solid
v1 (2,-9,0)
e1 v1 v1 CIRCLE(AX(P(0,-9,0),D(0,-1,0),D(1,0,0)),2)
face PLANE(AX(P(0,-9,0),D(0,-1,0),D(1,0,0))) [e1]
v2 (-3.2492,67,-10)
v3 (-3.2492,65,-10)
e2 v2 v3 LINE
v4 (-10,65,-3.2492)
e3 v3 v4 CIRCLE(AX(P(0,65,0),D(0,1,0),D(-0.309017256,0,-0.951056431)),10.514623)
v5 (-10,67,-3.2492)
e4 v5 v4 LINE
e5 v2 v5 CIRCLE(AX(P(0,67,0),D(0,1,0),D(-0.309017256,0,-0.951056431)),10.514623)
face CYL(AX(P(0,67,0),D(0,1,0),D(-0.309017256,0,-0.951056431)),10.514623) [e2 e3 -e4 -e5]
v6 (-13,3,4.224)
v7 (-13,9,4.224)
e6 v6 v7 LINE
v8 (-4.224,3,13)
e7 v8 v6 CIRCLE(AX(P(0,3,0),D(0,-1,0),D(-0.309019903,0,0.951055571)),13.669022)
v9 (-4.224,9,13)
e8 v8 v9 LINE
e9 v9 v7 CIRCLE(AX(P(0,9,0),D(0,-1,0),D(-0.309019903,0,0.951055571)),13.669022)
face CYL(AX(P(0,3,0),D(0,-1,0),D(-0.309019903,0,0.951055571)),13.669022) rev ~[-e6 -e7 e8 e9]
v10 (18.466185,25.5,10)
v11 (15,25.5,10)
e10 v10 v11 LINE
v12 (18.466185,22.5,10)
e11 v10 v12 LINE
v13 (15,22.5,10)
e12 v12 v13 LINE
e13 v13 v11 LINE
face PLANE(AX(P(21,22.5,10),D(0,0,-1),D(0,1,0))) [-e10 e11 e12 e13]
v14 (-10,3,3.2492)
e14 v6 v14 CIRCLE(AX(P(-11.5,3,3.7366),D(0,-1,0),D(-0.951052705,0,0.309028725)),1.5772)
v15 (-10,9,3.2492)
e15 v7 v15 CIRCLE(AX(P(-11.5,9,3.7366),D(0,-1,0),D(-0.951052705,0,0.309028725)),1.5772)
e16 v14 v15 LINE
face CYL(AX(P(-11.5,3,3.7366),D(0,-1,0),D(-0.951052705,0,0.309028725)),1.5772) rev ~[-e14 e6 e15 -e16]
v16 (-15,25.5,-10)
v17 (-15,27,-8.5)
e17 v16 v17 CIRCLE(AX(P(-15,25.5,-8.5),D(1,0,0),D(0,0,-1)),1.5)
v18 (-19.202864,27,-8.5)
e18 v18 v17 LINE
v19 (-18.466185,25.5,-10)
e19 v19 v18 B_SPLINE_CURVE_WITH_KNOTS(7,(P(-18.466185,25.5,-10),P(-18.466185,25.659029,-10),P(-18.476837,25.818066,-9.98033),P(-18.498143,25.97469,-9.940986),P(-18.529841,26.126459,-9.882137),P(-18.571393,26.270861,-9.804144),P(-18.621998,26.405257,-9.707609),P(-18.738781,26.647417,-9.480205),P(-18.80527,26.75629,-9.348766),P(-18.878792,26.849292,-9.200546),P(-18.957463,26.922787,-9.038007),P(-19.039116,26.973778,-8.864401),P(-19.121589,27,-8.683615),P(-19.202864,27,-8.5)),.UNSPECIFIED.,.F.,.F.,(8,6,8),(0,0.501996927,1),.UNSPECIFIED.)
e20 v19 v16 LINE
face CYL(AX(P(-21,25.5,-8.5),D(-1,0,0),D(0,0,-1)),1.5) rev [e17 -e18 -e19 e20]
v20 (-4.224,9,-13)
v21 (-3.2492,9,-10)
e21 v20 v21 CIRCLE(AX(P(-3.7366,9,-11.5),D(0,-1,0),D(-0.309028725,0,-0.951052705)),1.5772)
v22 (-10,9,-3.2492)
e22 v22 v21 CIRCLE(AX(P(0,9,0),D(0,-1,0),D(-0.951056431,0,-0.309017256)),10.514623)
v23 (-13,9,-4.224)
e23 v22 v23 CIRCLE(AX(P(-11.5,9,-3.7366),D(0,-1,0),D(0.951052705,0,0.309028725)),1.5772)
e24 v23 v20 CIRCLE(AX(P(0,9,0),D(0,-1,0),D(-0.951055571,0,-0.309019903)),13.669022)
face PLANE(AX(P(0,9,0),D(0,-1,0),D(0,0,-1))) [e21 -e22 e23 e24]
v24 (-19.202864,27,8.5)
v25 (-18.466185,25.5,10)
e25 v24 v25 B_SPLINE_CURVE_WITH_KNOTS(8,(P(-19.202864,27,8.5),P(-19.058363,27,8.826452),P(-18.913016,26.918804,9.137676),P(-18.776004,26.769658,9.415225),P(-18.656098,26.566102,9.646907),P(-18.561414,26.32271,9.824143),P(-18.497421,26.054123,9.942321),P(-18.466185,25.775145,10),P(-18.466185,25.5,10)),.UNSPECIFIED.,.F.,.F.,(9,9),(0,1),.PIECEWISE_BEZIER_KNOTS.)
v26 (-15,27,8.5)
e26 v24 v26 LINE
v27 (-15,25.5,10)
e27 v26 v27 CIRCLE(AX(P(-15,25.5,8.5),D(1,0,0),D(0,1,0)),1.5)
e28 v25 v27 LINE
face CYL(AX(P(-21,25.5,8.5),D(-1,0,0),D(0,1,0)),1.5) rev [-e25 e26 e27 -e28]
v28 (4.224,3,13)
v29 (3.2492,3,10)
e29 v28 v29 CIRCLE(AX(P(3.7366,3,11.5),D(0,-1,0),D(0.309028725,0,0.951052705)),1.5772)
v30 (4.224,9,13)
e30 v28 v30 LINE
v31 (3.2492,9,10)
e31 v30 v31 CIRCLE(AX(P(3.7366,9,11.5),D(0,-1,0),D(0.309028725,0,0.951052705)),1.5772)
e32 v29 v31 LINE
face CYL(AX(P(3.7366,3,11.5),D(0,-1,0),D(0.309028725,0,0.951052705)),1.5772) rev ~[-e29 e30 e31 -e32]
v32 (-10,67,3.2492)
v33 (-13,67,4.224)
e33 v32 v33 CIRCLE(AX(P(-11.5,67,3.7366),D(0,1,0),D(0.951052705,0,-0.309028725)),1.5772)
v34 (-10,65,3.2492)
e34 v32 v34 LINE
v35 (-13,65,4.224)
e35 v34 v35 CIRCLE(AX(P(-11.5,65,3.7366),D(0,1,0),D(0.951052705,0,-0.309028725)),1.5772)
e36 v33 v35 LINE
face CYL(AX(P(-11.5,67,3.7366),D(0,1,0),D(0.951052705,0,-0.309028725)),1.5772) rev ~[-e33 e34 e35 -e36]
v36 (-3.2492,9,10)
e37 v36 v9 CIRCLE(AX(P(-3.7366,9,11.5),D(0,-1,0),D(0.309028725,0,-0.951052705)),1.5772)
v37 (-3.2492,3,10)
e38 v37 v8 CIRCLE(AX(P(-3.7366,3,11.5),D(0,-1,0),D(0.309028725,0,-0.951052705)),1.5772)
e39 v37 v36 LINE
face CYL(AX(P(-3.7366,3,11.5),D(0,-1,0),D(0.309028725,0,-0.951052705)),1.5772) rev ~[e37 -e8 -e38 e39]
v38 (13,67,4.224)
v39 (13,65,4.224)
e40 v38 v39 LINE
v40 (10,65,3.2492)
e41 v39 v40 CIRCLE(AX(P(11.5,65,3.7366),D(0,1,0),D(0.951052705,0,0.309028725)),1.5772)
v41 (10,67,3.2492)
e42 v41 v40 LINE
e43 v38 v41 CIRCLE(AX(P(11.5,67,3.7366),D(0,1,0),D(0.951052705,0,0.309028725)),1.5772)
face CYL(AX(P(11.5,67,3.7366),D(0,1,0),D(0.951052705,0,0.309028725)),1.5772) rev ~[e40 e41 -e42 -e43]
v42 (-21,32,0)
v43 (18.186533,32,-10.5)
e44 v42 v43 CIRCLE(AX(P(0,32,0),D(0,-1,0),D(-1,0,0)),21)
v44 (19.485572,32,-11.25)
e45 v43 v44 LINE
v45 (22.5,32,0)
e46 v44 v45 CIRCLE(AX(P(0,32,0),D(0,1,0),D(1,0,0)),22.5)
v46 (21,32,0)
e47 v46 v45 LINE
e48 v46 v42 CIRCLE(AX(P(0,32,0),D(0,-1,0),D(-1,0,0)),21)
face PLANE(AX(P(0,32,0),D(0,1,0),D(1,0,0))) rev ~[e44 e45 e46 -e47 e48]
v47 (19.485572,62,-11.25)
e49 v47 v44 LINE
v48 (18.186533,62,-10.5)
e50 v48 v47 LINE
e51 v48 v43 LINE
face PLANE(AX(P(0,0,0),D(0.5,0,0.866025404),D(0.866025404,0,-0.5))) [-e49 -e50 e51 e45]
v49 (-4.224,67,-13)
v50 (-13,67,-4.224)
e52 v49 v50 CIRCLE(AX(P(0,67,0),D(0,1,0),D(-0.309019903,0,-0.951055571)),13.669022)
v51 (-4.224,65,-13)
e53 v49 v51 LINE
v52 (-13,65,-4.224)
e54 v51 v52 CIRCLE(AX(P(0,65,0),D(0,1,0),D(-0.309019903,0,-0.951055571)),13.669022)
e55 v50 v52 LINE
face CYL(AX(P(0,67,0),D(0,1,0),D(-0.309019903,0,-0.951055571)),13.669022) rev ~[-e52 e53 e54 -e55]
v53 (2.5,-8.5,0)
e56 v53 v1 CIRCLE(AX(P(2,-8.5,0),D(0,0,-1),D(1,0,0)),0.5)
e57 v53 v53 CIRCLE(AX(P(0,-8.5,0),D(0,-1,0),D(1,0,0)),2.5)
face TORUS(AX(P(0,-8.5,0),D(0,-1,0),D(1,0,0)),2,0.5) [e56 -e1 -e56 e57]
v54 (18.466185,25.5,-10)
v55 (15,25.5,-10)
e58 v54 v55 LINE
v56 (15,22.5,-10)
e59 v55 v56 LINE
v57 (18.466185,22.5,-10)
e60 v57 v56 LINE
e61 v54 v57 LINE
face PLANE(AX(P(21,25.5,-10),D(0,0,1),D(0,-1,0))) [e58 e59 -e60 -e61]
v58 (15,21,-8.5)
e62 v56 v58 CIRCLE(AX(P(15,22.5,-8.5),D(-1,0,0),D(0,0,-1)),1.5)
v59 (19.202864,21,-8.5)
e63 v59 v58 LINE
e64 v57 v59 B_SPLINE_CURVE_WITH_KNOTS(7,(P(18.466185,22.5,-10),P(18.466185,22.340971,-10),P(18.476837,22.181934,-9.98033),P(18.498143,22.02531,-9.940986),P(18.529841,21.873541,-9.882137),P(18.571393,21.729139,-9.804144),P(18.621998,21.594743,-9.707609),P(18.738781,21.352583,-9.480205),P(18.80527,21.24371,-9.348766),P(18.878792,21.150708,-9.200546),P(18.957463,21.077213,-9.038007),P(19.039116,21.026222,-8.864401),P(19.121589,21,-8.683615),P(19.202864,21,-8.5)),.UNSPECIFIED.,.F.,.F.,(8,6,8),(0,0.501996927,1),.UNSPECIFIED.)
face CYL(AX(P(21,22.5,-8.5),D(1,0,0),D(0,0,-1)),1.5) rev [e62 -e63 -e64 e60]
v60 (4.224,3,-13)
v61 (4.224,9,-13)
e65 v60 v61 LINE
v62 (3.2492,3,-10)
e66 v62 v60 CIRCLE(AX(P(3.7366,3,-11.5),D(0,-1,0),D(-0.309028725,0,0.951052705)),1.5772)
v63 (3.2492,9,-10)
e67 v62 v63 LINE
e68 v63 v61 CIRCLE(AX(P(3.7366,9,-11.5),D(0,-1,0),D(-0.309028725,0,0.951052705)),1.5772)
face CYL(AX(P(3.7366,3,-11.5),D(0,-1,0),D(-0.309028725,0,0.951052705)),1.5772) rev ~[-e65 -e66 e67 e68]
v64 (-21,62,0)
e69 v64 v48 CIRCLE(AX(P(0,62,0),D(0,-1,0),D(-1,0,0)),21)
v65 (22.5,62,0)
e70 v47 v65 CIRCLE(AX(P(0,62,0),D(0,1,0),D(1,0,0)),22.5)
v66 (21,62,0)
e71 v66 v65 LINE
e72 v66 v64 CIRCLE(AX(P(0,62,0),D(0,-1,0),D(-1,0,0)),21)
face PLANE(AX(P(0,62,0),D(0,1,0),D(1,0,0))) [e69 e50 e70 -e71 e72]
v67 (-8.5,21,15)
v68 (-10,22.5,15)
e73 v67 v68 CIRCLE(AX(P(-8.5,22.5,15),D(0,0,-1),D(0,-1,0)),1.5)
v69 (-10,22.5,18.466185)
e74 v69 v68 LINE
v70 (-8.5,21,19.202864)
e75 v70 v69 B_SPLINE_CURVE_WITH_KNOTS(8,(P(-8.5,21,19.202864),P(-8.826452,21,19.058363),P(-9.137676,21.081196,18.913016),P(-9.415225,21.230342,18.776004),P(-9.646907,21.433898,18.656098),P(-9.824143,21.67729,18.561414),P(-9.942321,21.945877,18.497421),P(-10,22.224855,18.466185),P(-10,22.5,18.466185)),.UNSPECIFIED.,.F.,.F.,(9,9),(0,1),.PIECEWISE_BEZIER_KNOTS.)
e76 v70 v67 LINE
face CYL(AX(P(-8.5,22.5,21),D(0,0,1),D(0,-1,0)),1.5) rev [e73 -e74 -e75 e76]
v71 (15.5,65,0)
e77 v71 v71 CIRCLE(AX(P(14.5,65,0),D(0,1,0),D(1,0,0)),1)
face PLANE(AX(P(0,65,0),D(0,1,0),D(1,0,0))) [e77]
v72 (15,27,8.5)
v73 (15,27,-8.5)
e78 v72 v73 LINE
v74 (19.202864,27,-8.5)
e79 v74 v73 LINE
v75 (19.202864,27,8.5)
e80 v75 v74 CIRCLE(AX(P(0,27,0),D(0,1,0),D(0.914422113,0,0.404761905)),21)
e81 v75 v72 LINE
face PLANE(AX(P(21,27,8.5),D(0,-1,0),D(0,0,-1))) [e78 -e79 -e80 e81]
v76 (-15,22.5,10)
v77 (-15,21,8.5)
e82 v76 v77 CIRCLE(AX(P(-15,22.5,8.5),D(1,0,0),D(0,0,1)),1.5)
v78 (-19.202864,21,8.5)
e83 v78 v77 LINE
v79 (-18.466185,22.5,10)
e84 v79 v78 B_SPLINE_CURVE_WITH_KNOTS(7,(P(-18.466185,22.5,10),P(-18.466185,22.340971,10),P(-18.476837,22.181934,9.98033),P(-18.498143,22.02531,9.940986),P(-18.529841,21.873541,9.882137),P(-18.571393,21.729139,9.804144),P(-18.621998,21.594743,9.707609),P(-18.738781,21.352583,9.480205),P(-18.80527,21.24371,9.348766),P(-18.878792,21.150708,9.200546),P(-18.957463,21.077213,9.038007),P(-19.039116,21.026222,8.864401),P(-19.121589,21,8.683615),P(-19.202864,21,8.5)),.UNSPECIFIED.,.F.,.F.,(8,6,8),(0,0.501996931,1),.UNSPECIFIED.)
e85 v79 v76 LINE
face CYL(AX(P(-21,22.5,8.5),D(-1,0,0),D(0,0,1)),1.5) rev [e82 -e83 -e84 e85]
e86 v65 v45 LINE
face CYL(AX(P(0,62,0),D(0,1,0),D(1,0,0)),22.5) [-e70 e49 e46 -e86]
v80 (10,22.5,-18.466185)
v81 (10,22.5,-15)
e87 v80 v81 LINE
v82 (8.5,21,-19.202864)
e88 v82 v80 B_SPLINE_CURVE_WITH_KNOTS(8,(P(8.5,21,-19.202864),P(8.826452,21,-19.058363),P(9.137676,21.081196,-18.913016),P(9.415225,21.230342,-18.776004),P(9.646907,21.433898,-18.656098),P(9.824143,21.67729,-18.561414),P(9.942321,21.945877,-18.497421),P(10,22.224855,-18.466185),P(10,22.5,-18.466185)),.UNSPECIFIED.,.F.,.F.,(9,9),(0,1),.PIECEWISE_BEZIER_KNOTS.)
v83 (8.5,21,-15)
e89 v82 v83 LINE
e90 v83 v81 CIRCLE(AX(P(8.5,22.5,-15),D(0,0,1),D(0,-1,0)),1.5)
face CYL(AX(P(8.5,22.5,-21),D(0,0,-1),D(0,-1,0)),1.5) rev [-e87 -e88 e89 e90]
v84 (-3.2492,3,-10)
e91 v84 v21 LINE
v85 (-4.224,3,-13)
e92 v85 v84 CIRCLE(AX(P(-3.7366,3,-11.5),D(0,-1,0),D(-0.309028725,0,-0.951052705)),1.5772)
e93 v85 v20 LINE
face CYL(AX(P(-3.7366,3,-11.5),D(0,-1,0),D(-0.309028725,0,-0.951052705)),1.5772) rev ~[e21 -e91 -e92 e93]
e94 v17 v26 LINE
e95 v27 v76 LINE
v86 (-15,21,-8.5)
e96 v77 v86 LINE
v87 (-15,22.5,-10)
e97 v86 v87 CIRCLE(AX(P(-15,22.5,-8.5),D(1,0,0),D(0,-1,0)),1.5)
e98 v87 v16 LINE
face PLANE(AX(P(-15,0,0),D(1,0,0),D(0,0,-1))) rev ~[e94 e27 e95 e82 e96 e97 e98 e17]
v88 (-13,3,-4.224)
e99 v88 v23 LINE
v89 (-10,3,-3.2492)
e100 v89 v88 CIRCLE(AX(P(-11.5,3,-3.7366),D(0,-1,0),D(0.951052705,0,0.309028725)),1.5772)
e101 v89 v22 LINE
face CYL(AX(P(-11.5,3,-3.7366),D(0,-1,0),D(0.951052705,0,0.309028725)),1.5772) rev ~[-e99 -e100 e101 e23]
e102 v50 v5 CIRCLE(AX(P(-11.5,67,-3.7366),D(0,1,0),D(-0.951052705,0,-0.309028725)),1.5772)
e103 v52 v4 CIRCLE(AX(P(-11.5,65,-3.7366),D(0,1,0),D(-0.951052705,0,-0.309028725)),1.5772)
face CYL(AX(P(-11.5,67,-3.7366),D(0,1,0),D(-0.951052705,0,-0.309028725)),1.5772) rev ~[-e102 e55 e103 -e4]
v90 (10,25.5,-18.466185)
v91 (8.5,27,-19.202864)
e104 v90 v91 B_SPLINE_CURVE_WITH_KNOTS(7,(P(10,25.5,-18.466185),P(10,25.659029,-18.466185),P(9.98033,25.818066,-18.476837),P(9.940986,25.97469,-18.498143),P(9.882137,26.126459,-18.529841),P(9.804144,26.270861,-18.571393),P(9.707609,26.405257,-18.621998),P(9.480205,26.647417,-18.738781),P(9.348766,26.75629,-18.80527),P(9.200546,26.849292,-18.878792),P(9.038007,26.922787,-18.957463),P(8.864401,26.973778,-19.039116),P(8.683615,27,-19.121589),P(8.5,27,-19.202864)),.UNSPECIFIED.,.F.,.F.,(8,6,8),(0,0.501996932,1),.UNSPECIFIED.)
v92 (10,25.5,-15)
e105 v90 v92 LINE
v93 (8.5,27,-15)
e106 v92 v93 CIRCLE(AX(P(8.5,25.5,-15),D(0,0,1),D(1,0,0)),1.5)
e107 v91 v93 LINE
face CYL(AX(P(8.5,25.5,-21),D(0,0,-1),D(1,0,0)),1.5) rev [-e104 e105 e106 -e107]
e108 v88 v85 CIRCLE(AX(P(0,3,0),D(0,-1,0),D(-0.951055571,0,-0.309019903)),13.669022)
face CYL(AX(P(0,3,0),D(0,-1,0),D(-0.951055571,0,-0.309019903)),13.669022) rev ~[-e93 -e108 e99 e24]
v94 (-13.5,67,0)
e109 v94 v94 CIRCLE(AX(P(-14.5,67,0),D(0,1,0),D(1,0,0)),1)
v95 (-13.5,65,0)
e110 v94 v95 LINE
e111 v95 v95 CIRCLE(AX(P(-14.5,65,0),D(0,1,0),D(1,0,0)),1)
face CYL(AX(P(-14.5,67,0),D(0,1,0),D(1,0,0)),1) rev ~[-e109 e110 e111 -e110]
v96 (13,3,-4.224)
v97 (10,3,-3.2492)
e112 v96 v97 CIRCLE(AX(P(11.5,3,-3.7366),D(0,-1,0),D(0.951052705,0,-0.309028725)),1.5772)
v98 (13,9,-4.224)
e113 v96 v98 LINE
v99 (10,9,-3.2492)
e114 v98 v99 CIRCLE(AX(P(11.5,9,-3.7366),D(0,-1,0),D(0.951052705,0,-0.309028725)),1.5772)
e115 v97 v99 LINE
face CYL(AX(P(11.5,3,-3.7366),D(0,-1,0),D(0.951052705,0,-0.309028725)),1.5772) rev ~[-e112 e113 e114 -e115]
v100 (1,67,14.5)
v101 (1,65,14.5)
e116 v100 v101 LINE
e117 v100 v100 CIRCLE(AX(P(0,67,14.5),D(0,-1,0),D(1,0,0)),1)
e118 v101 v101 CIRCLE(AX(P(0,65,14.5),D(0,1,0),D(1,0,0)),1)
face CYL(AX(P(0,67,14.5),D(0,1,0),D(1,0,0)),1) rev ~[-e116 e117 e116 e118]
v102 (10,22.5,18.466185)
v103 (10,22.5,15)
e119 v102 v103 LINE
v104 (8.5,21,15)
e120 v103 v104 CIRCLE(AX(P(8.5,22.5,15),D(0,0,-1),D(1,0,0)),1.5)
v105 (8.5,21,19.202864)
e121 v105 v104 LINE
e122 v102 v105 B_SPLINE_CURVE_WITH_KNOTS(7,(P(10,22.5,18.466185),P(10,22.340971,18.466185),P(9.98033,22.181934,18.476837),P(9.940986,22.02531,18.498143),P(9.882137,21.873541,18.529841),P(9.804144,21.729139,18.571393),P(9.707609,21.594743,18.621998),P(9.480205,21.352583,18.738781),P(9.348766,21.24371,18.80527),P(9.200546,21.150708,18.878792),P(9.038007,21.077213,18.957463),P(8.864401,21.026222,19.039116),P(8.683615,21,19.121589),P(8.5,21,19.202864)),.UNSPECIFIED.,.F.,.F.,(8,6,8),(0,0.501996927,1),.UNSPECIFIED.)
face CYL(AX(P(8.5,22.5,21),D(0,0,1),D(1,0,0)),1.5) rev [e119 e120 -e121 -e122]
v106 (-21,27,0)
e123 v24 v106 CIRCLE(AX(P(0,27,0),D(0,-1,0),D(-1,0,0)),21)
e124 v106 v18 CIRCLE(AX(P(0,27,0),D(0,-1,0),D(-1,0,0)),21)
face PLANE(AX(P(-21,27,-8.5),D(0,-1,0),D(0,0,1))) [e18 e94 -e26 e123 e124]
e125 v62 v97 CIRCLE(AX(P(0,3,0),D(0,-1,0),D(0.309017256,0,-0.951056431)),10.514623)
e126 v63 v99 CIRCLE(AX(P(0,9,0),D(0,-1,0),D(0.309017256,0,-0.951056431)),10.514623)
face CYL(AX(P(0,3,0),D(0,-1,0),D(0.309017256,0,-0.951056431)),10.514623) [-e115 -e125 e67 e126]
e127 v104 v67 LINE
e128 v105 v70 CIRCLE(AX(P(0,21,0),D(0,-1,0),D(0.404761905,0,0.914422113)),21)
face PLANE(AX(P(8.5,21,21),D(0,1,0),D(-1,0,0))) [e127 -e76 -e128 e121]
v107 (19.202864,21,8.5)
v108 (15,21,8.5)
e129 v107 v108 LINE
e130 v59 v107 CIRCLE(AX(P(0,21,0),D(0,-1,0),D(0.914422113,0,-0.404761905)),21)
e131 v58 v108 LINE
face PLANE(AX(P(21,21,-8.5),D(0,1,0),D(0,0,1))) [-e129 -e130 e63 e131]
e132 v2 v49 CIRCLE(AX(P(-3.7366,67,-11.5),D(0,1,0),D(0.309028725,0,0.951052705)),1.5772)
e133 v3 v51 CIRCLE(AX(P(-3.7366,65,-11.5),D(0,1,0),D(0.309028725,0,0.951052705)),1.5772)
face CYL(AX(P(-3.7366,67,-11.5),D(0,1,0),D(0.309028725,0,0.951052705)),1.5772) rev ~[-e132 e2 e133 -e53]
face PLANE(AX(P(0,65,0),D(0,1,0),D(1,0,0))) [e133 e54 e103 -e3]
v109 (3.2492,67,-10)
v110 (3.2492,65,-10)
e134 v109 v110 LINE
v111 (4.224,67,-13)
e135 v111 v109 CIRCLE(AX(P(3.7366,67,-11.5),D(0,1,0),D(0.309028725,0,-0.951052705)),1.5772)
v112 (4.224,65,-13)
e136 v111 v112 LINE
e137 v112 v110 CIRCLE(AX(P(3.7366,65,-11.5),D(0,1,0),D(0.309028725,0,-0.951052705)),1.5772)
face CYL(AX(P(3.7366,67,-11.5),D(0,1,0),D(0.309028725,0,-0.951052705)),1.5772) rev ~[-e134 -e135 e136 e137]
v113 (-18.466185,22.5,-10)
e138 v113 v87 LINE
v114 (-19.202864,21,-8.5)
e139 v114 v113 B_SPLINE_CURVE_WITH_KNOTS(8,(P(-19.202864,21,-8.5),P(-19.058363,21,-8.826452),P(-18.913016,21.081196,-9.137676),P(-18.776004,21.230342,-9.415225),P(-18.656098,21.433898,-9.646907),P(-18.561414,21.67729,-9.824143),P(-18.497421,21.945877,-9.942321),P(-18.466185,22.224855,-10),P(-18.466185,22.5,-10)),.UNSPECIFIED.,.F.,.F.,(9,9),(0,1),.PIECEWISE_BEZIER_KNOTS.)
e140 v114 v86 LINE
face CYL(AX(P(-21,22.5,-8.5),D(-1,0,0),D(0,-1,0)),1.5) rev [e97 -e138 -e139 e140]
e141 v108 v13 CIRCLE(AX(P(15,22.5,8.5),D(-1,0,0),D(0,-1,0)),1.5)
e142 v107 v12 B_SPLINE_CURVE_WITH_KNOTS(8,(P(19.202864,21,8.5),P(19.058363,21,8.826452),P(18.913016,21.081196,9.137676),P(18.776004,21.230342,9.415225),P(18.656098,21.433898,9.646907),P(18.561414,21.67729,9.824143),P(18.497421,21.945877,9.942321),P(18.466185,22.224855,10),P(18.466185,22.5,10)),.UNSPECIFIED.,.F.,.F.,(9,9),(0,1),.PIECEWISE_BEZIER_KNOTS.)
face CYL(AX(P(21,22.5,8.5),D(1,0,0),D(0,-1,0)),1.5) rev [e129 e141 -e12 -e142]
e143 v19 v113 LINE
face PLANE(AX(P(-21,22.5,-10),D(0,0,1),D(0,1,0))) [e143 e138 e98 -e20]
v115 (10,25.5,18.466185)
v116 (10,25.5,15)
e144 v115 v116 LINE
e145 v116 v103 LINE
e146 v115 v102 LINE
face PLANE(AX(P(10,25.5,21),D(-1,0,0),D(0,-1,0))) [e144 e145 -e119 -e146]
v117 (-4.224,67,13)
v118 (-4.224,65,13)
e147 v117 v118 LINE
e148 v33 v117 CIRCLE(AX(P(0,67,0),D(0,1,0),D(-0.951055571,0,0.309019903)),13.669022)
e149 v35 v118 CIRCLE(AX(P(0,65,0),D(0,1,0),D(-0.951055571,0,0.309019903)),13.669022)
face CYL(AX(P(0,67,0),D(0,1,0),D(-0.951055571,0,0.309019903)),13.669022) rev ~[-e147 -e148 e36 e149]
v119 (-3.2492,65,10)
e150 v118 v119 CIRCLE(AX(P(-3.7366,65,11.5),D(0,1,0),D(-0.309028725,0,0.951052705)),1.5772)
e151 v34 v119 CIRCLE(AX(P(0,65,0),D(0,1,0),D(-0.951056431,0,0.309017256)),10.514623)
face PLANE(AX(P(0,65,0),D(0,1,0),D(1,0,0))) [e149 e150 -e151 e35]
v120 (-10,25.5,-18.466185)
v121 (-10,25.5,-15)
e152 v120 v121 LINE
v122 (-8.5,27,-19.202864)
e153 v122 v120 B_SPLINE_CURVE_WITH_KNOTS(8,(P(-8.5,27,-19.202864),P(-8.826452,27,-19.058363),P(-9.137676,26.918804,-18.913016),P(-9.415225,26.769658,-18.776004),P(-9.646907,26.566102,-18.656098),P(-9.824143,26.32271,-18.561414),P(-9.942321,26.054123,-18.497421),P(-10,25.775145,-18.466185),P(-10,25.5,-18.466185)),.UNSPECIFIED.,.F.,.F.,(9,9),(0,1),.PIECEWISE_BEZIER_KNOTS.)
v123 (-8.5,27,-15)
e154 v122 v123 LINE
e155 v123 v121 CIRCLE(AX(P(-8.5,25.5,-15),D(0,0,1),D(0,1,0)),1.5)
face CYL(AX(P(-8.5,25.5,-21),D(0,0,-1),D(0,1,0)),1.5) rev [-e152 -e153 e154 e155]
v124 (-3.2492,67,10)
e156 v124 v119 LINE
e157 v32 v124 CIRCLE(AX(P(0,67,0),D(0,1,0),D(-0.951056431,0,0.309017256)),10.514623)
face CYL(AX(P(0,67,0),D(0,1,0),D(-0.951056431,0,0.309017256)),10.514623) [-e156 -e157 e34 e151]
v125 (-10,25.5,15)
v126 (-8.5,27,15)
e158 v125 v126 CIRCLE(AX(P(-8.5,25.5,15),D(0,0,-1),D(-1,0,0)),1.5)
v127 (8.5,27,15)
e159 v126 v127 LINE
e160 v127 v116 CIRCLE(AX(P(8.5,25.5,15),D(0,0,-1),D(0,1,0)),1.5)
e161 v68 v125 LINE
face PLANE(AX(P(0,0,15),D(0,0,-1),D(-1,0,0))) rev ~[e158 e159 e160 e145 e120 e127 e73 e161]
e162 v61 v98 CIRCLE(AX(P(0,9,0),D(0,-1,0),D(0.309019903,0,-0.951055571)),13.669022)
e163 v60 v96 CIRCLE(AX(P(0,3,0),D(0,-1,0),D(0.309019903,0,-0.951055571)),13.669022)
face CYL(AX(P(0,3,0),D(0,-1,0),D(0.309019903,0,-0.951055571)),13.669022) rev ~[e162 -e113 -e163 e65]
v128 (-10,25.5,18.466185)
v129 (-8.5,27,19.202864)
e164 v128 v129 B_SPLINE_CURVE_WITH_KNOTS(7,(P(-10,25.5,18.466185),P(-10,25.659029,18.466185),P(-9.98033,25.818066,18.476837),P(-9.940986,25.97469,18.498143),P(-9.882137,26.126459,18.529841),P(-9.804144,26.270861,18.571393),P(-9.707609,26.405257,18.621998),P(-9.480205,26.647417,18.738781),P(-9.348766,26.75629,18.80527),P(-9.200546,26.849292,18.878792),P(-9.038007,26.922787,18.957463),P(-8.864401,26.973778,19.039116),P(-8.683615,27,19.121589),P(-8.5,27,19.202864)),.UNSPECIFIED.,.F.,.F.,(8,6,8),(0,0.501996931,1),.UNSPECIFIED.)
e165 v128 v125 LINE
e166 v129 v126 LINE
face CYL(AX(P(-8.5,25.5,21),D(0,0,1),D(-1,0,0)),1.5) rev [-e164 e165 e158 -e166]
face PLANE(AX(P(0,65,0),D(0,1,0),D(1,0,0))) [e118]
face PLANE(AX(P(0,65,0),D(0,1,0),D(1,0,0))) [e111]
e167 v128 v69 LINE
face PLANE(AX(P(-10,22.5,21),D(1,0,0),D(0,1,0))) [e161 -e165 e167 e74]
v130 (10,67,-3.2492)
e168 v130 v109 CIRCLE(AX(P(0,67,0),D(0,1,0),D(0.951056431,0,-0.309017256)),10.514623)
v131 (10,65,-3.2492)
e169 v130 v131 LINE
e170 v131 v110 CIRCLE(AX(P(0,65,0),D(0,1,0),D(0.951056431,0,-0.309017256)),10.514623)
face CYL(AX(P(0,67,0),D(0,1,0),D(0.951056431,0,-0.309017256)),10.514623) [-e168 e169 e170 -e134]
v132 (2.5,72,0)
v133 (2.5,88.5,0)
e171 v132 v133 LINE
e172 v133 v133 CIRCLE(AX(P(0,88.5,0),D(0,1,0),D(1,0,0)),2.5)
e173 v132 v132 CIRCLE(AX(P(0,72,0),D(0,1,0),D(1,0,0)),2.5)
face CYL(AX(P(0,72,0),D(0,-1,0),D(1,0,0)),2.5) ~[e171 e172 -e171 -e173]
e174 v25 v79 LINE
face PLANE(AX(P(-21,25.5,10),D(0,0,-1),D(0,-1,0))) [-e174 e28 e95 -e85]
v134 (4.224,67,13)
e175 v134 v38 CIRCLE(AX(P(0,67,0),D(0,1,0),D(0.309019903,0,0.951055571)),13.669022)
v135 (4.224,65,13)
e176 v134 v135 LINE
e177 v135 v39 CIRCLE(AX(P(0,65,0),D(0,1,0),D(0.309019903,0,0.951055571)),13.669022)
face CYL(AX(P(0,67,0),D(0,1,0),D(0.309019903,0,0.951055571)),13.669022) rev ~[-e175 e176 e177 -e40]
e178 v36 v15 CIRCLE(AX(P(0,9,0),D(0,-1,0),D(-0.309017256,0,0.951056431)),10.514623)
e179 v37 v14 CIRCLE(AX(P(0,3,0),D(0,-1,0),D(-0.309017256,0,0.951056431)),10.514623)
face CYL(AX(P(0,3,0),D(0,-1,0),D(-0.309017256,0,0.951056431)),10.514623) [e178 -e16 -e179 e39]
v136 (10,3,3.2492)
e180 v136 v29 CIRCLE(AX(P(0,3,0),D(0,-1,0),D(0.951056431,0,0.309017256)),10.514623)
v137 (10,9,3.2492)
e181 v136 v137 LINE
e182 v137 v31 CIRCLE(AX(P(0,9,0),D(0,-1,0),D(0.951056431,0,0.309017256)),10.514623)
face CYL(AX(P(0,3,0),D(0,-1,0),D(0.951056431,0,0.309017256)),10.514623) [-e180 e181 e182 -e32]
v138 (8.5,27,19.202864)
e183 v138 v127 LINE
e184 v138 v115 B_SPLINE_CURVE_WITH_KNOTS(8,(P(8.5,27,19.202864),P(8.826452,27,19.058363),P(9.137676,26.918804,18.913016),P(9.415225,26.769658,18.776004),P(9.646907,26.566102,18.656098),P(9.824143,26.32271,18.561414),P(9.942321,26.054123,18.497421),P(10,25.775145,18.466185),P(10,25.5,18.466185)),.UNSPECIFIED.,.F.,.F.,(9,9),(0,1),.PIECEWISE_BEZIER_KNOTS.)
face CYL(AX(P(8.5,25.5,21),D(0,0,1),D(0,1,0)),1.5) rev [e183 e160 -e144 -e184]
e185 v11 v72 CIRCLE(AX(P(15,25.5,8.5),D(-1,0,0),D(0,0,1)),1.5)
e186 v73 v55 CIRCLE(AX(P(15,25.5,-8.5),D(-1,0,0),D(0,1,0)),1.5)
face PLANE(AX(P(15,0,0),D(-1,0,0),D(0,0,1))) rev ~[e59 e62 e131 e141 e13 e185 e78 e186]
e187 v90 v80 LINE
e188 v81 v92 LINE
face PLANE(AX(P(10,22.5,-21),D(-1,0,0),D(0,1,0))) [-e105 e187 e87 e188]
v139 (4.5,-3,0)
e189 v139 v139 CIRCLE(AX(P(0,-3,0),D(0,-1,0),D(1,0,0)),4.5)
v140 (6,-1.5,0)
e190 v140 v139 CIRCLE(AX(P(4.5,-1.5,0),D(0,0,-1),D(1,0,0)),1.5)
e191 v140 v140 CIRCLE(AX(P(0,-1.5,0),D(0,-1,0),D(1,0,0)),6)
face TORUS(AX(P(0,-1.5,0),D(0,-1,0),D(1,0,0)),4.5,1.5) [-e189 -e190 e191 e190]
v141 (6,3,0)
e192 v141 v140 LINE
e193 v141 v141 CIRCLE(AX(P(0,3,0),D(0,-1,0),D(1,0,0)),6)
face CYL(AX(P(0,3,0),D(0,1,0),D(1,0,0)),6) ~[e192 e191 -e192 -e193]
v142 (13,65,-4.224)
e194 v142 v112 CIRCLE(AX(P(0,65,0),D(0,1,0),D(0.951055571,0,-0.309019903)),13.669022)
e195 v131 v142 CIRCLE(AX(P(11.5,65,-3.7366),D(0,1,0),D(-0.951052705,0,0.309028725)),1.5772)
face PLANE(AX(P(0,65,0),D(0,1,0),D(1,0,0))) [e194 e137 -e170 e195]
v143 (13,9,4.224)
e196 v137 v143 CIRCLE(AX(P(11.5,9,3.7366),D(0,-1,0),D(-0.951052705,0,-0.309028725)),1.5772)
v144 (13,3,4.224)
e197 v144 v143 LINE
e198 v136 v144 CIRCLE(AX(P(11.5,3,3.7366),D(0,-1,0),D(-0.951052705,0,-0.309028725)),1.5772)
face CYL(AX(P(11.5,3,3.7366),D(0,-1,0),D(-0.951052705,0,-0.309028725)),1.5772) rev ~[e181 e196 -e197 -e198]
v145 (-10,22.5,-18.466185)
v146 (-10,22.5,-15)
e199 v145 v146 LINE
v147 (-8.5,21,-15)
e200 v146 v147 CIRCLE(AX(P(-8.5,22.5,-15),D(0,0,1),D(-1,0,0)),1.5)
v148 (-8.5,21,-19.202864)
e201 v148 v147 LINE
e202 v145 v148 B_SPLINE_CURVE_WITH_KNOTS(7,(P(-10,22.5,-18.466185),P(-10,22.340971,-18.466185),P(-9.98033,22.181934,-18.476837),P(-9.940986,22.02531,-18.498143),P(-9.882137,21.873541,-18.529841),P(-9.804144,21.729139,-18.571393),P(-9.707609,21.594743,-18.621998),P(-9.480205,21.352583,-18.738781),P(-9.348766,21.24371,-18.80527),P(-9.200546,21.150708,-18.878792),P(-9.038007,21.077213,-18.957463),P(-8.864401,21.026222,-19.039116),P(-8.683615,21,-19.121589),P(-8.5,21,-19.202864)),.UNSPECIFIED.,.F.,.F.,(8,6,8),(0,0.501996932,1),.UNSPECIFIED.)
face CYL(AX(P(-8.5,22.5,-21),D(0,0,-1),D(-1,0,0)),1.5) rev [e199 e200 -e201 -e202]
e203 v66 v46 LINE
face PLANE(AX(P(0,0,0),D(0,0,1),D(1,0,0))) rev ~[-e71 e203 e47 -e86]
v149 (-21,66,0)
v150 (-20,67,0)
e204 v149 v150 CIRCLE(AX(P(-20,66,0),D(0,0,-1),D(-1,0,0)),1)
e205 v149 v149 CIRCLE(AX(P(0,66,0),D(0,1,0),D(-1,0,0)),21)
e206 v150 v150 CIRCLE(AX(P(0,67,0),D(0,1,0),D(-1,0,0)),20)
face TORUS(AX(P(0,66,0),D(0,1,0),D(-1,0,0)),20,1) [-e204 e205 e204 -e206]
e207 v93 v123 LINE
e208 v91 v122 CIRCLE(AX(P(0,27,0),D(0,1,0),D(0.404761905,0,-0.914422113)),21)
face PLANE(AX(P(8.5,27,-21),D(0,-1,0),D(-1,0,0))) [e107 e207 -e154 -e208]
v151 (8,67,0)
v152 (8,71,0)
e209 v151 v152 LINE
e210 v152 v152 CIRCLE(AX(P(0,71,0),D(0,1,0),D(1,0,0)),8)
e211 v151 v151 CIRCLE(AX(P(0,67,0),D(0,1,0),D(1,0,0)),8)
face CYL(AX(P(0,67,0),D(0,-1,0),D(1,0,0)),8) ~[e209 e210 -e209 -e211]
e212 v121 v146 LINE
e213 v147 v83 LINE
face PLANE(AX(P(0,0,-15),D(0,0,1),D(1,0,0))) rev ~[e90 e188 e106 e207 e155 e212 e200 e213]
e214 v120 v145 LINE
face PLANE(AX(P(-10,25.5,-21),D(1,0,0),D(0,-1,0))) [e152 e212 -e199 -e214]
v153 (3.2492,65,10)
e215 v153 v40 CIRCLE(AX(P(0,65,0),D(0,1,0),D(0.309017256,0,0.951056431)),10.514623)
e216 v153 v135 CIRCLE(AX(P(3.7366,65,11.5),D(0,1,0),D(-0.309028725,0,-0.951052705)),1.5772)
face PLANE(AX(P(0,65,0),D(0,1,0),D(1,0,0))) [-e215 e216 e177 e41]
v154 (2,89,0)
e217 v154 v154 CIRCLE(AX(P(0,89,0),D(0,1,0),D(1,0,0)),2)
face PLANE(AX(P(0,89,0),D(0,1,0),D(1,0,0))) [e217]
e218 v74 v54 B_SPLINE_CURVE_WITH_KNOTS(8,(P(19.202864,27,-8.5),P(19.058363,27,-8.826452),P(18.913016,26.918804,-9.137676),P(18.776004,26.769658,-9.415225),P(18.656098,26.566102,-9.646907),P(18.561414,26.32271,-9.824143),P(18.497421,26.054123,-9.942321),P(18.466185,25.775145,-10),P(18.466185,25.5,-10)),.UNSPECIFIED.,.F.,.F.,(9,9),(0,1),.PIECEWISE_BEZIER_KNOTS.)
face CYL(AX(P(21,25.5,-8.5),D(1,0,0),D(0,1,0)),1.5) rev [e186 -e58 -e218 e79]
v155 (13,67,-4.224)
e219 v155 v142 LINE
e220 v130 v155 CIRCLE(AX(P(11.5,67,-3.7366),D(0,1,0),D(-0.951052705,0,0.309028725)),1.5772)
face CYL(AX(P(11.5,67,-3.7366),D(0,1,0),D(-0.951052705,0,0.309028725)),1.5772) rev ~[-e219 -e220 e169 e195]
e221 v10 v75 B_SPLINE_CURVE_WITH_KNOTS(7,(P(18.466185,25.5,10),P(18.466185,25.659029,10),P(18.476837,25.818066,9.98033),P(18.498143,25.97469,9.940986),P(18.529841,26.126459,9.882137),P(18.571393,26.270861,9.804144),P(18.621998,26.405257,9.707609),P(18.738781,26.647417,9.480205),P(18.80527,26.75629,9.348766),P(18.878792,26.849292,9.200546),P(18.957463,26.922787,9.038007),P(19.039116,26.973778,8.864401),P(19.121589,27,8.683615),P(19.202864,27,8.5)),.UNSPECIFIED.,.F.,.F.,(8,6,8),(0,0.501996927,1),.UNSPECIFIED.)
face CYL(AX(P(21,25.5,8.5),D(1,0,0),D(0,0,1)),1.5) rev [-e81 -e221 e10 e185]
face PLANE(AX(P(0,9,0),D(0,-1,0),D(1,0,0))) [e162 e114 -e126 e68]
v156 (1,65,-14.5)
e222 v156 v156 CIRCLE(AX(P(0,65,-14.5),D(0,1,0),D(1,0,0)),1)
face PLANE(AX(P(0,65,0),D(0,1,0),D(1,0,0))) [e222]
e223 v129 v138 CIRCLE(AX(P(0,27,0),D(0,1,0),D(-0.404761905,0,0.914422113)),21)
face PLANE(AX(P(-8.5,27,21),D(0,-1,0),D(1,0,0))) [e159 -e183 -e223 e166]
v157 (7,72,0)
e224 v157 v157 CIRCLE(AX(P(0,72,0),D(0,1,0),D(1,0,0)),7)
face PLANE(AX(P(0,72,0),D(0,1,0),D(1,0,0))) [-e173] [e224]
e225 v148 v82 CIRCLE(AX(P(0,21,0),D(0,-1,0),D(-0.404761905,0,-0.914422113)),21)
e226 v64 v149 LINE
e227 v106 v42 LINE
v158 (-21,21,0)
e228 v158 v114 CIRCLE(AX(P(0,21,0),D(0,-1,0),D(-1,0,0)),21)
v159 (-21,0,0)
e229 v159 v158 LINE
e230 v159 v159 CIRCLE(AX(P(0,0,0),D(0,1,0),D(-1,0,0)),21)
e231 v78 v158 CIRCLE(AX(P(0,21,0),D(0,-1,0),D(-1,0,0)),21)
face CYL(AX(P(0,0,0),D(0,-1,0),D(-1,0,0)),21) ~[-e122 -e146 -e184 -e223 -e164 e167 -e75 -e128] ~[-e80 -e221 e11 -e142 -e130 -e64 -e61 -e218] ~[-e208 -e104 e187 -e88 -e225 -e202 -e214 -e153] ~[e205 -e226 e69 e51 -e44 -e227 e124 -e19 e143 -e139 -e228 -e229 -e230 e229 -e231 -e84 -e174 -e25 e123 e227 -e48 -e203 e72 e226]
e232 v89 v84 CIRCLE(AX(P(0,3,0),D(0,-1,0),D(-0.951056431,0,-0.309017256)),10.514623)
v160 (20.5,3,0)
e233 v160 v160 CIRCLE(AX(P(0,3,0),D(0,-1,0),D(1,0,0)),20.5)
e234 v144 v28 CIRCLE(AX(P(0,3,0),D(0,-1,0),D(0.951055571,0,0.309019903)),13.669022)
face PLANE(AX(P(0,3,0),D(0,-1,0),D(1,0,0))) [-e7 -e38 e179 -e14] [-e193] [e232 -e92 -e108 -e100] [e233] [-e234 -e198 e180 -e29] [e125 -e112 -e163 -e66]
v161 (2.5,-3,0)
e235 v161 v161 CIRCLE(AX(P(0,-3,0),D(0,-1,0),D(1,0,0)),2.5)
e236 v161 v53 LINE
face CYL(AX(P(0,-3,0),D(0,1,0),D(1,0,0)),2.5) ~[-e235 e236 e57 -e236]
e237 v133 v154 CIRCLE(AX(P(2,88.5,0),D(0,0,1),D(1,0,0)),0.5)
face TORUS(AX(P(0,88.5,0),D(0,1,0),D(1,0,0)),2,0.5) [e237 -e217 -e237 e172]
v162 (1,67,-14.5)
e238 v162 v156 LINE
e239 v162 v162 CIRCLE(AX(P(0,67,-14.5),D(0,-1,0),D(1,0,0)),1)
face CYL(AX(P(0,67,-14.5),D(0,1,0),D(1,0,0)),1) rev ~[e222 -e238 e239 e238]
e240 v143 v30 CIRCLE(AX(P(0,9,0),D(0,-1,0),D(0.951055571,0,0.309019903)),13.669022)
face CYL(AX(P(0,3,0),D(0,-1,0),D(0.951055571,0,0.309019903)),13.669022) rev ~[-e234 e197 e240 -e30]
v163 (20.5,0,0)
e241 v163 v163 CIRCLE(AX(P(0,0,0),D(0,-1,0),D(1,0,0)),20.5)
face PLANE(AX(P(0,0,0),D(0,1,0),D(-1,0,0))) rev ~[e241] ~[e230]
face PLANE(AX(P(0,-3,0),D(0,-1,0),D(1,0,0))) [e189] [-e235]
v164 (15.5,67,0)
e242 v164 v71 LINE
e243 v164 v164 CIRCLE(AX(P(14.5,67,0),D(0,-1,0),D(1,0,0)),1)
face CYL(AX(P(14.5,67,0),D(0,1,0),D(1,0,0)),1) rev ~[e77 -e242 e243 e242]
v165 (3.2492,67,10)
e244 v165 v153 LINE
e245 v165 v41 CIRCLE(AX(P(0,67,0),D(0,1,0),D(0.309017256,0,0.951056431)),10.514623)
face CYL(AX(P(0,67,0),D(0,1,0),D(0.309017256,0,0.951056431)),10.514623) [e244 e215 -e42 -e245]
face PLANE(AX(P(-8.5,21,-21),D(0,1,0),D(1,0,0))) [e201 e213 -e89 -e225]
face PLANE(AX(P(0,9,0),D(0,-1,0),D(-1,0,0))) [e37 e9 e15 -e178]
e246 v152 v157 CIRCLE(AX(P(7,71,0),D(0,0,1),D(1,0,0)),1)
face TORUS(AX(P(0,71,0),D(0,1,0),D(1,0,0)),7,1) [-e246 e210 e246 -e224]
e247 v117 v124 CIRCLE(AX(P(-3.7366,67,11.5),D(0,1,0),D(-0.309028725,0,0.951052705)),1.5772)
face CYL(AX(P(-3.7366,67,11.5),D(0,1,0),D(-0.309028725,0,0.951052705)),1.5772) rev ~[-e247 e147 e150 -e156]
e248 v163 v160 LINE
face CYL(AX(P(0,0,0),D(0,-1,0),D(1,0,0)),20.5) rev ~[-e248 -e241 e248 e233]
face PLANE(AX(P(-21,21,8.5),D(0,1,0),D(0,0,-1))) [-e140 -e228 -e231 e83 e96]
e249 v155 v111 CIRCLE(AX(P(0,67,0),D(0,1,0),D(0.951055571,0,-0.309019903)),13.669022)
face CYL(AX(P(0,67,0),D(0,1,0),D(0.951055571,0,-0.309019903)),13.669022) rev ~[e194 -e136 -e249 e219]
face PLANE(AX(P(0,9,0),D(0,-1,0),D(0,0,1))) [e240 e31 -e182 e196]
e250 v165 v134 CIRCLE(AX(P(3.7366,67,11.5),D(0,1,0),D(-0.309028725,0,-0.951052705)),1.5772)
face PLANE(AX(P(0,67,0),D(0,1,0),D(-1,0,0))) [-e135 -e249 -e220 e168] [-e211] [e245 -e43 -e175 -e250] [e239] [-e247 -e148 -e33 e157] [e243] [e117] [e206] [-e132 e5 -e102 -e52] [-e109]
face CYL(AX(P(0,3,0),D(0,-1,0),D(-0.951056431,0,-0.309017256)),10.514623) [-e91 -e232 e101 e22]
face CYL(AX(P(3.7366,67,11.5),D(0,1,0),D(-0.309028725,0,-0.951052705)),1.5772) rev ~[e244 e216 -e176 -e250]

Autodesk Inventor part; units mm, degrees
sketch "Sketch1" plane through (0, 0, 0) normal (0, 1, 0) x (-1, 0, 0)
  circle A0 centre (0, 0) radius 21
  dimension "d0" = 42
extrude "Выдавливание1" add sketch "Sketch1" along normal blind 67
ref_plane "РабПлоскость1" through (0, 62, 0) normal (0, 1, 0) x (1, 0, 0)
sketch "Sketch2" plane through (0, 62, 0) normal (0, 1, 0) x (1, 0, 0)
  circle A0 centre (0, 0) radius 22.5
  dimension "d4" = 45
extrude "Выдавливание2" add sketch "Sketch2" against normal blind 30
sketch "Эскиз4" plane through (0, 67, 0) normal (0, 1, 0) x (1, 0, 0)
  circle A0 centre (0, 0) radius 8
  dimension "d7" = 16
extrude "Выдавливание3" add sketch "Эскиз4" along normal blind 5
ref_plane "РабПлоскость2" through (0, 0, -21) normal (0, 0, 1) x (1, 0, 0)
sketch "Эскиз5" plane through (0, 0, -21) normal (0, 0, 1) x (1, 0, 0)
  line L0 (8.5, 27) -> (-8.5, 27)
  line L1 (-10, 25.5) -> (-10, 22.5)
  line L2 (-8.5, 21) -> (8.5, 21)
  line L3 (10, 22.5) -> (10, 25.5)
  line L4 (-22.5, 32) -> (22.5, 32) projected
  arc A0 (8.5, 21) -> (10, 22.5) centre (8.5, 22.5) ccw
  arc A1 (10, 25.5) -> (8.5, 27) centre (8.5, 25.5) ccw
  arc A2 (-8.5, 27) -> (-10, 25.5) centre (-8.5, 25.5) ccw
  arc A3 (-10, 22.5) -> (-8.5, 21) centre (-8.5, 22.5) ccw
  point P0 (0, 0)
  point P1 (-10, 21)
  point P2 (-10, 27)
  point P3 (10, 21)
  point P4 (0, 27)
  dimension "d10" = 5
  dimension "d11" = 6
  dimension "d12" = 20
  dimension "d13" = 1.5
extrude "Выдавливание4" cut sketch "Эскиз5" along normal blind 6
pattern_circular "Круговой массив1" count 4 over 360 about axis through (0, 72, 0) along (0, 1, 0) of "Выдавливание4"
sketch "Эскиз8" plane through (0, 72, 0) normal (0, 1, 0) x (1, 0, 0)
  circle A0 centre (0, 0) radius 2.5
  dimension "d25" = 5
extrude "Выдавливание7" add sketch "Эскиз8" along normal blind 17
sketch "Эскиз9" plane through (0, 0, 0) normal (0, -1, 0) x (1, 0, 0)
  circle A0 centre (0, 0) radius 22.5 projected
  circle A1 centre (0, 0) radius 20.5
  dimension "d28" = 41
extrude "Выдавливание8" cut sketch "Эскиз9" against normal blind 3 contours A1
sketch "Эскиз10" plane through (0, 3, 0) normal (0, -1, 0) x (1, 0, 0)
  circle A0 centre (0, 0) radius 6
  dimension "d31" = 12
extrude "Выдавливание9" add sketch "Эскиз10" along normal blind 6
sketch "Эскиз11" plane through (0, -3, 0) normal (0, -1, 0) x (1, 0, 0)
  circle A0 centre (0, 0) radius 2.5
  dimension "d34" = 5
extrude "Выдавливание10" add sketch "Эскиз11" along normal blind 6
sketch "Эскиз12" plane through (0, 3, 0) normal (0, -1, 0) x (1, 0, 0)
  arc A0 (3.2492, -10) -> (10, -3.2492) centre (0, 0) ccw
  line L0 (0, 0) -> (10, -3.2492) construction
  line L1 (0, 0) -> (10.5146, 0) construction
  line L2 (0, 0) -> (3.2492, -10) construction
  arc A1 (4.224, -13) -> (13, -4.224) centre (0, 0) ccw
  arc A2 (3.2492, -10) -> (4.224, -13) centre (3.7366, -11.5) ccw
  arc A3 (13, -4.224) -> (10, -3.2492) centre (11.5, -3.7366) ccw
  dimension "d37" = 18
  dimension "d38" = 54
extrude "Выдавливание11" cut sketch "Эскиз12" against normal blind 6
pattern_circular "Круговой массив2" count 4 over 360 about axis through (0, 72, 0) along (0, 1, 0) of "Выдавливание11"
fillet "Сопряжение1" radius 1.5 1 edges at (-6, -3, 0)
fillet "Сопряжение2" radius 1 2 edges at (-8, 72, 0) (21, 67, 0)
fillet "Сопряжение3" radius 0.5 1 edges at (-2.5, 89, 0)
fillet "Сопряжение4" radius 0.5 1 edges at (-2.5, -9, 0)
ref_plane "РабПлоскость3" through (0, 72, 0) normal (0, 0, -1) x (0, 1, 0)
sketch "Sketch14" plane through (0, 67, 0) normal (0, 1, 0) x (1, 0, 0)
  circle A0 centre (0, 0) radius 20 projected
  line L0 (0, 0) -> (-14.5, 0)
  circle A1 centre (-14.5, 0) radius 1
  line L1 (0, 0) -> (14.5, 0)
  line L2 (15, -8.5) -> (15, 8.5) projected
  circle A2 centre (14.5, 0) radius 1
  line L3 (0, 0) -> (0, -14.5)
  circle A3 centre (0, -14.5) radius 1
  line L4 (0, 0) -> (0, 14.5)
  circle A4 centre (0, 14.5) radius 1
  arc A5 (-4.224, 13) -> (-13, 4.224) centre (0, 0) ccw projected
  arc A6 (-3.2492, 10) -> (-4.224, 13) centre (-3.7366, 11.5) ccw projected
  arc A7 (-3.2492, 10) -> (-10, 3.2492) centre (0, 0) ccw projected
  arc A8 (-13, 4.224) -> (-10, 3.2492) centre (-11.5, 3.7366) ccw projected
  arc A9 (4.224, 13) -> (3.2492, 10) centre (3.7366, 11.5) ccw projected
  arc A10 (13, 4.224) -> (4.224, 13) centre (0, 0) ccw projected
  arc A11 (10, 3.2492) -> (3.2492, 10) centre (0, 0) ccw projected
  arc A12 (10, 3.2492) -> (13, 4.224) centre (11.5, 3.7366) ccw projected
  arc A13 (3.2492, -10) -> (10, -3.2492) centre (0, 0) ccw projected
  arc A14 (13, -4.224) -> (10, -3.2492) centre (11.5, -3.7366) ccw projected
  arc A15 (4.224, -13) -> (13, -4.224) centre (0, 0) ccw projected
  arc A16 (3.2492, -10) -> (4.224, -13) centre (3.7366, -11.5) ccw projected
  arc A17 (-10, -3.2492) -> (-3.2492, -10) centre (0, 0) ccw projected
  arc A18 (-4.224, -13) -> (-3.2492, -10) centre (-3.7366, -11.5) ccw projected
  arc A19 (-13, -4.224) -> (-4.224, -13) centre (0, 0) ccw projected
  arc A20 (-10, -3.2492) -> (-13, -4.224) centre (-11.5, -3.7366) ccw projected
  dimension "d51" = 14.5
  dimension "d52" = 2
  dimension "d53" = 14.5
  dimension "d54" = 2
  dimension "d55" = 14.5
  dimension "d56" = 2
  dimension "d57" = 14.5
  dimension "d58" = 2
extrude "Extrusion12" cut sketch "Sketch14" against normal blind 2 contours A1 | A2 L2 | A3 | A4 | A2 L2 | A6 A7 A8 A5 | A10 A12 A11 A9 | A13 A14 A15 A16 | A17 A18 A19 A20
thread "Thread1" size "M2x0.4" class "6H" standard "ANSI Metric M Profile" length 9.967
thread "Thread2" size "M2x0.4" class "6H" standard "ANSI Metric M Profile" length 9.967
thread "Thread3" size "M2x0.4" class "6H" standard "ANSI Metric M Profile" length 9.967
thread "Thread4" size "M2x0.4" class "6H" standard "ANSI Metric M Profile" length 9.967
ref_plane "Work Plane4" through (0, 0, 0) normal (0, 0, 1) x (1, 0, 0)
sketch "Sketch15" plane through (0, 0, 0) normal (0, 0, 1) x (1, 0, 0)
  line L0 (22.5, 62) -> (22.5, 32) projected
  line L1 (-22.5, 62) -> (22.5, 62) projected
  line L2 (-22.5, 32) -> (22.5, 32) projected
  line L3 (-21, 32) -> (21, 32) projected
  line L4 (21, 62) -> (21, 32)
  line L5 (0, -28.6) -> (0, 108.6) projected
  point P0 (0, 0)
revolve "Revolution1" cut sketch "Sketch15" angle 30 about axis through (0, -10, 0) along (0, 1, 0) contours L0 L2 L4 L1
properties part number "775-dc-motor"
